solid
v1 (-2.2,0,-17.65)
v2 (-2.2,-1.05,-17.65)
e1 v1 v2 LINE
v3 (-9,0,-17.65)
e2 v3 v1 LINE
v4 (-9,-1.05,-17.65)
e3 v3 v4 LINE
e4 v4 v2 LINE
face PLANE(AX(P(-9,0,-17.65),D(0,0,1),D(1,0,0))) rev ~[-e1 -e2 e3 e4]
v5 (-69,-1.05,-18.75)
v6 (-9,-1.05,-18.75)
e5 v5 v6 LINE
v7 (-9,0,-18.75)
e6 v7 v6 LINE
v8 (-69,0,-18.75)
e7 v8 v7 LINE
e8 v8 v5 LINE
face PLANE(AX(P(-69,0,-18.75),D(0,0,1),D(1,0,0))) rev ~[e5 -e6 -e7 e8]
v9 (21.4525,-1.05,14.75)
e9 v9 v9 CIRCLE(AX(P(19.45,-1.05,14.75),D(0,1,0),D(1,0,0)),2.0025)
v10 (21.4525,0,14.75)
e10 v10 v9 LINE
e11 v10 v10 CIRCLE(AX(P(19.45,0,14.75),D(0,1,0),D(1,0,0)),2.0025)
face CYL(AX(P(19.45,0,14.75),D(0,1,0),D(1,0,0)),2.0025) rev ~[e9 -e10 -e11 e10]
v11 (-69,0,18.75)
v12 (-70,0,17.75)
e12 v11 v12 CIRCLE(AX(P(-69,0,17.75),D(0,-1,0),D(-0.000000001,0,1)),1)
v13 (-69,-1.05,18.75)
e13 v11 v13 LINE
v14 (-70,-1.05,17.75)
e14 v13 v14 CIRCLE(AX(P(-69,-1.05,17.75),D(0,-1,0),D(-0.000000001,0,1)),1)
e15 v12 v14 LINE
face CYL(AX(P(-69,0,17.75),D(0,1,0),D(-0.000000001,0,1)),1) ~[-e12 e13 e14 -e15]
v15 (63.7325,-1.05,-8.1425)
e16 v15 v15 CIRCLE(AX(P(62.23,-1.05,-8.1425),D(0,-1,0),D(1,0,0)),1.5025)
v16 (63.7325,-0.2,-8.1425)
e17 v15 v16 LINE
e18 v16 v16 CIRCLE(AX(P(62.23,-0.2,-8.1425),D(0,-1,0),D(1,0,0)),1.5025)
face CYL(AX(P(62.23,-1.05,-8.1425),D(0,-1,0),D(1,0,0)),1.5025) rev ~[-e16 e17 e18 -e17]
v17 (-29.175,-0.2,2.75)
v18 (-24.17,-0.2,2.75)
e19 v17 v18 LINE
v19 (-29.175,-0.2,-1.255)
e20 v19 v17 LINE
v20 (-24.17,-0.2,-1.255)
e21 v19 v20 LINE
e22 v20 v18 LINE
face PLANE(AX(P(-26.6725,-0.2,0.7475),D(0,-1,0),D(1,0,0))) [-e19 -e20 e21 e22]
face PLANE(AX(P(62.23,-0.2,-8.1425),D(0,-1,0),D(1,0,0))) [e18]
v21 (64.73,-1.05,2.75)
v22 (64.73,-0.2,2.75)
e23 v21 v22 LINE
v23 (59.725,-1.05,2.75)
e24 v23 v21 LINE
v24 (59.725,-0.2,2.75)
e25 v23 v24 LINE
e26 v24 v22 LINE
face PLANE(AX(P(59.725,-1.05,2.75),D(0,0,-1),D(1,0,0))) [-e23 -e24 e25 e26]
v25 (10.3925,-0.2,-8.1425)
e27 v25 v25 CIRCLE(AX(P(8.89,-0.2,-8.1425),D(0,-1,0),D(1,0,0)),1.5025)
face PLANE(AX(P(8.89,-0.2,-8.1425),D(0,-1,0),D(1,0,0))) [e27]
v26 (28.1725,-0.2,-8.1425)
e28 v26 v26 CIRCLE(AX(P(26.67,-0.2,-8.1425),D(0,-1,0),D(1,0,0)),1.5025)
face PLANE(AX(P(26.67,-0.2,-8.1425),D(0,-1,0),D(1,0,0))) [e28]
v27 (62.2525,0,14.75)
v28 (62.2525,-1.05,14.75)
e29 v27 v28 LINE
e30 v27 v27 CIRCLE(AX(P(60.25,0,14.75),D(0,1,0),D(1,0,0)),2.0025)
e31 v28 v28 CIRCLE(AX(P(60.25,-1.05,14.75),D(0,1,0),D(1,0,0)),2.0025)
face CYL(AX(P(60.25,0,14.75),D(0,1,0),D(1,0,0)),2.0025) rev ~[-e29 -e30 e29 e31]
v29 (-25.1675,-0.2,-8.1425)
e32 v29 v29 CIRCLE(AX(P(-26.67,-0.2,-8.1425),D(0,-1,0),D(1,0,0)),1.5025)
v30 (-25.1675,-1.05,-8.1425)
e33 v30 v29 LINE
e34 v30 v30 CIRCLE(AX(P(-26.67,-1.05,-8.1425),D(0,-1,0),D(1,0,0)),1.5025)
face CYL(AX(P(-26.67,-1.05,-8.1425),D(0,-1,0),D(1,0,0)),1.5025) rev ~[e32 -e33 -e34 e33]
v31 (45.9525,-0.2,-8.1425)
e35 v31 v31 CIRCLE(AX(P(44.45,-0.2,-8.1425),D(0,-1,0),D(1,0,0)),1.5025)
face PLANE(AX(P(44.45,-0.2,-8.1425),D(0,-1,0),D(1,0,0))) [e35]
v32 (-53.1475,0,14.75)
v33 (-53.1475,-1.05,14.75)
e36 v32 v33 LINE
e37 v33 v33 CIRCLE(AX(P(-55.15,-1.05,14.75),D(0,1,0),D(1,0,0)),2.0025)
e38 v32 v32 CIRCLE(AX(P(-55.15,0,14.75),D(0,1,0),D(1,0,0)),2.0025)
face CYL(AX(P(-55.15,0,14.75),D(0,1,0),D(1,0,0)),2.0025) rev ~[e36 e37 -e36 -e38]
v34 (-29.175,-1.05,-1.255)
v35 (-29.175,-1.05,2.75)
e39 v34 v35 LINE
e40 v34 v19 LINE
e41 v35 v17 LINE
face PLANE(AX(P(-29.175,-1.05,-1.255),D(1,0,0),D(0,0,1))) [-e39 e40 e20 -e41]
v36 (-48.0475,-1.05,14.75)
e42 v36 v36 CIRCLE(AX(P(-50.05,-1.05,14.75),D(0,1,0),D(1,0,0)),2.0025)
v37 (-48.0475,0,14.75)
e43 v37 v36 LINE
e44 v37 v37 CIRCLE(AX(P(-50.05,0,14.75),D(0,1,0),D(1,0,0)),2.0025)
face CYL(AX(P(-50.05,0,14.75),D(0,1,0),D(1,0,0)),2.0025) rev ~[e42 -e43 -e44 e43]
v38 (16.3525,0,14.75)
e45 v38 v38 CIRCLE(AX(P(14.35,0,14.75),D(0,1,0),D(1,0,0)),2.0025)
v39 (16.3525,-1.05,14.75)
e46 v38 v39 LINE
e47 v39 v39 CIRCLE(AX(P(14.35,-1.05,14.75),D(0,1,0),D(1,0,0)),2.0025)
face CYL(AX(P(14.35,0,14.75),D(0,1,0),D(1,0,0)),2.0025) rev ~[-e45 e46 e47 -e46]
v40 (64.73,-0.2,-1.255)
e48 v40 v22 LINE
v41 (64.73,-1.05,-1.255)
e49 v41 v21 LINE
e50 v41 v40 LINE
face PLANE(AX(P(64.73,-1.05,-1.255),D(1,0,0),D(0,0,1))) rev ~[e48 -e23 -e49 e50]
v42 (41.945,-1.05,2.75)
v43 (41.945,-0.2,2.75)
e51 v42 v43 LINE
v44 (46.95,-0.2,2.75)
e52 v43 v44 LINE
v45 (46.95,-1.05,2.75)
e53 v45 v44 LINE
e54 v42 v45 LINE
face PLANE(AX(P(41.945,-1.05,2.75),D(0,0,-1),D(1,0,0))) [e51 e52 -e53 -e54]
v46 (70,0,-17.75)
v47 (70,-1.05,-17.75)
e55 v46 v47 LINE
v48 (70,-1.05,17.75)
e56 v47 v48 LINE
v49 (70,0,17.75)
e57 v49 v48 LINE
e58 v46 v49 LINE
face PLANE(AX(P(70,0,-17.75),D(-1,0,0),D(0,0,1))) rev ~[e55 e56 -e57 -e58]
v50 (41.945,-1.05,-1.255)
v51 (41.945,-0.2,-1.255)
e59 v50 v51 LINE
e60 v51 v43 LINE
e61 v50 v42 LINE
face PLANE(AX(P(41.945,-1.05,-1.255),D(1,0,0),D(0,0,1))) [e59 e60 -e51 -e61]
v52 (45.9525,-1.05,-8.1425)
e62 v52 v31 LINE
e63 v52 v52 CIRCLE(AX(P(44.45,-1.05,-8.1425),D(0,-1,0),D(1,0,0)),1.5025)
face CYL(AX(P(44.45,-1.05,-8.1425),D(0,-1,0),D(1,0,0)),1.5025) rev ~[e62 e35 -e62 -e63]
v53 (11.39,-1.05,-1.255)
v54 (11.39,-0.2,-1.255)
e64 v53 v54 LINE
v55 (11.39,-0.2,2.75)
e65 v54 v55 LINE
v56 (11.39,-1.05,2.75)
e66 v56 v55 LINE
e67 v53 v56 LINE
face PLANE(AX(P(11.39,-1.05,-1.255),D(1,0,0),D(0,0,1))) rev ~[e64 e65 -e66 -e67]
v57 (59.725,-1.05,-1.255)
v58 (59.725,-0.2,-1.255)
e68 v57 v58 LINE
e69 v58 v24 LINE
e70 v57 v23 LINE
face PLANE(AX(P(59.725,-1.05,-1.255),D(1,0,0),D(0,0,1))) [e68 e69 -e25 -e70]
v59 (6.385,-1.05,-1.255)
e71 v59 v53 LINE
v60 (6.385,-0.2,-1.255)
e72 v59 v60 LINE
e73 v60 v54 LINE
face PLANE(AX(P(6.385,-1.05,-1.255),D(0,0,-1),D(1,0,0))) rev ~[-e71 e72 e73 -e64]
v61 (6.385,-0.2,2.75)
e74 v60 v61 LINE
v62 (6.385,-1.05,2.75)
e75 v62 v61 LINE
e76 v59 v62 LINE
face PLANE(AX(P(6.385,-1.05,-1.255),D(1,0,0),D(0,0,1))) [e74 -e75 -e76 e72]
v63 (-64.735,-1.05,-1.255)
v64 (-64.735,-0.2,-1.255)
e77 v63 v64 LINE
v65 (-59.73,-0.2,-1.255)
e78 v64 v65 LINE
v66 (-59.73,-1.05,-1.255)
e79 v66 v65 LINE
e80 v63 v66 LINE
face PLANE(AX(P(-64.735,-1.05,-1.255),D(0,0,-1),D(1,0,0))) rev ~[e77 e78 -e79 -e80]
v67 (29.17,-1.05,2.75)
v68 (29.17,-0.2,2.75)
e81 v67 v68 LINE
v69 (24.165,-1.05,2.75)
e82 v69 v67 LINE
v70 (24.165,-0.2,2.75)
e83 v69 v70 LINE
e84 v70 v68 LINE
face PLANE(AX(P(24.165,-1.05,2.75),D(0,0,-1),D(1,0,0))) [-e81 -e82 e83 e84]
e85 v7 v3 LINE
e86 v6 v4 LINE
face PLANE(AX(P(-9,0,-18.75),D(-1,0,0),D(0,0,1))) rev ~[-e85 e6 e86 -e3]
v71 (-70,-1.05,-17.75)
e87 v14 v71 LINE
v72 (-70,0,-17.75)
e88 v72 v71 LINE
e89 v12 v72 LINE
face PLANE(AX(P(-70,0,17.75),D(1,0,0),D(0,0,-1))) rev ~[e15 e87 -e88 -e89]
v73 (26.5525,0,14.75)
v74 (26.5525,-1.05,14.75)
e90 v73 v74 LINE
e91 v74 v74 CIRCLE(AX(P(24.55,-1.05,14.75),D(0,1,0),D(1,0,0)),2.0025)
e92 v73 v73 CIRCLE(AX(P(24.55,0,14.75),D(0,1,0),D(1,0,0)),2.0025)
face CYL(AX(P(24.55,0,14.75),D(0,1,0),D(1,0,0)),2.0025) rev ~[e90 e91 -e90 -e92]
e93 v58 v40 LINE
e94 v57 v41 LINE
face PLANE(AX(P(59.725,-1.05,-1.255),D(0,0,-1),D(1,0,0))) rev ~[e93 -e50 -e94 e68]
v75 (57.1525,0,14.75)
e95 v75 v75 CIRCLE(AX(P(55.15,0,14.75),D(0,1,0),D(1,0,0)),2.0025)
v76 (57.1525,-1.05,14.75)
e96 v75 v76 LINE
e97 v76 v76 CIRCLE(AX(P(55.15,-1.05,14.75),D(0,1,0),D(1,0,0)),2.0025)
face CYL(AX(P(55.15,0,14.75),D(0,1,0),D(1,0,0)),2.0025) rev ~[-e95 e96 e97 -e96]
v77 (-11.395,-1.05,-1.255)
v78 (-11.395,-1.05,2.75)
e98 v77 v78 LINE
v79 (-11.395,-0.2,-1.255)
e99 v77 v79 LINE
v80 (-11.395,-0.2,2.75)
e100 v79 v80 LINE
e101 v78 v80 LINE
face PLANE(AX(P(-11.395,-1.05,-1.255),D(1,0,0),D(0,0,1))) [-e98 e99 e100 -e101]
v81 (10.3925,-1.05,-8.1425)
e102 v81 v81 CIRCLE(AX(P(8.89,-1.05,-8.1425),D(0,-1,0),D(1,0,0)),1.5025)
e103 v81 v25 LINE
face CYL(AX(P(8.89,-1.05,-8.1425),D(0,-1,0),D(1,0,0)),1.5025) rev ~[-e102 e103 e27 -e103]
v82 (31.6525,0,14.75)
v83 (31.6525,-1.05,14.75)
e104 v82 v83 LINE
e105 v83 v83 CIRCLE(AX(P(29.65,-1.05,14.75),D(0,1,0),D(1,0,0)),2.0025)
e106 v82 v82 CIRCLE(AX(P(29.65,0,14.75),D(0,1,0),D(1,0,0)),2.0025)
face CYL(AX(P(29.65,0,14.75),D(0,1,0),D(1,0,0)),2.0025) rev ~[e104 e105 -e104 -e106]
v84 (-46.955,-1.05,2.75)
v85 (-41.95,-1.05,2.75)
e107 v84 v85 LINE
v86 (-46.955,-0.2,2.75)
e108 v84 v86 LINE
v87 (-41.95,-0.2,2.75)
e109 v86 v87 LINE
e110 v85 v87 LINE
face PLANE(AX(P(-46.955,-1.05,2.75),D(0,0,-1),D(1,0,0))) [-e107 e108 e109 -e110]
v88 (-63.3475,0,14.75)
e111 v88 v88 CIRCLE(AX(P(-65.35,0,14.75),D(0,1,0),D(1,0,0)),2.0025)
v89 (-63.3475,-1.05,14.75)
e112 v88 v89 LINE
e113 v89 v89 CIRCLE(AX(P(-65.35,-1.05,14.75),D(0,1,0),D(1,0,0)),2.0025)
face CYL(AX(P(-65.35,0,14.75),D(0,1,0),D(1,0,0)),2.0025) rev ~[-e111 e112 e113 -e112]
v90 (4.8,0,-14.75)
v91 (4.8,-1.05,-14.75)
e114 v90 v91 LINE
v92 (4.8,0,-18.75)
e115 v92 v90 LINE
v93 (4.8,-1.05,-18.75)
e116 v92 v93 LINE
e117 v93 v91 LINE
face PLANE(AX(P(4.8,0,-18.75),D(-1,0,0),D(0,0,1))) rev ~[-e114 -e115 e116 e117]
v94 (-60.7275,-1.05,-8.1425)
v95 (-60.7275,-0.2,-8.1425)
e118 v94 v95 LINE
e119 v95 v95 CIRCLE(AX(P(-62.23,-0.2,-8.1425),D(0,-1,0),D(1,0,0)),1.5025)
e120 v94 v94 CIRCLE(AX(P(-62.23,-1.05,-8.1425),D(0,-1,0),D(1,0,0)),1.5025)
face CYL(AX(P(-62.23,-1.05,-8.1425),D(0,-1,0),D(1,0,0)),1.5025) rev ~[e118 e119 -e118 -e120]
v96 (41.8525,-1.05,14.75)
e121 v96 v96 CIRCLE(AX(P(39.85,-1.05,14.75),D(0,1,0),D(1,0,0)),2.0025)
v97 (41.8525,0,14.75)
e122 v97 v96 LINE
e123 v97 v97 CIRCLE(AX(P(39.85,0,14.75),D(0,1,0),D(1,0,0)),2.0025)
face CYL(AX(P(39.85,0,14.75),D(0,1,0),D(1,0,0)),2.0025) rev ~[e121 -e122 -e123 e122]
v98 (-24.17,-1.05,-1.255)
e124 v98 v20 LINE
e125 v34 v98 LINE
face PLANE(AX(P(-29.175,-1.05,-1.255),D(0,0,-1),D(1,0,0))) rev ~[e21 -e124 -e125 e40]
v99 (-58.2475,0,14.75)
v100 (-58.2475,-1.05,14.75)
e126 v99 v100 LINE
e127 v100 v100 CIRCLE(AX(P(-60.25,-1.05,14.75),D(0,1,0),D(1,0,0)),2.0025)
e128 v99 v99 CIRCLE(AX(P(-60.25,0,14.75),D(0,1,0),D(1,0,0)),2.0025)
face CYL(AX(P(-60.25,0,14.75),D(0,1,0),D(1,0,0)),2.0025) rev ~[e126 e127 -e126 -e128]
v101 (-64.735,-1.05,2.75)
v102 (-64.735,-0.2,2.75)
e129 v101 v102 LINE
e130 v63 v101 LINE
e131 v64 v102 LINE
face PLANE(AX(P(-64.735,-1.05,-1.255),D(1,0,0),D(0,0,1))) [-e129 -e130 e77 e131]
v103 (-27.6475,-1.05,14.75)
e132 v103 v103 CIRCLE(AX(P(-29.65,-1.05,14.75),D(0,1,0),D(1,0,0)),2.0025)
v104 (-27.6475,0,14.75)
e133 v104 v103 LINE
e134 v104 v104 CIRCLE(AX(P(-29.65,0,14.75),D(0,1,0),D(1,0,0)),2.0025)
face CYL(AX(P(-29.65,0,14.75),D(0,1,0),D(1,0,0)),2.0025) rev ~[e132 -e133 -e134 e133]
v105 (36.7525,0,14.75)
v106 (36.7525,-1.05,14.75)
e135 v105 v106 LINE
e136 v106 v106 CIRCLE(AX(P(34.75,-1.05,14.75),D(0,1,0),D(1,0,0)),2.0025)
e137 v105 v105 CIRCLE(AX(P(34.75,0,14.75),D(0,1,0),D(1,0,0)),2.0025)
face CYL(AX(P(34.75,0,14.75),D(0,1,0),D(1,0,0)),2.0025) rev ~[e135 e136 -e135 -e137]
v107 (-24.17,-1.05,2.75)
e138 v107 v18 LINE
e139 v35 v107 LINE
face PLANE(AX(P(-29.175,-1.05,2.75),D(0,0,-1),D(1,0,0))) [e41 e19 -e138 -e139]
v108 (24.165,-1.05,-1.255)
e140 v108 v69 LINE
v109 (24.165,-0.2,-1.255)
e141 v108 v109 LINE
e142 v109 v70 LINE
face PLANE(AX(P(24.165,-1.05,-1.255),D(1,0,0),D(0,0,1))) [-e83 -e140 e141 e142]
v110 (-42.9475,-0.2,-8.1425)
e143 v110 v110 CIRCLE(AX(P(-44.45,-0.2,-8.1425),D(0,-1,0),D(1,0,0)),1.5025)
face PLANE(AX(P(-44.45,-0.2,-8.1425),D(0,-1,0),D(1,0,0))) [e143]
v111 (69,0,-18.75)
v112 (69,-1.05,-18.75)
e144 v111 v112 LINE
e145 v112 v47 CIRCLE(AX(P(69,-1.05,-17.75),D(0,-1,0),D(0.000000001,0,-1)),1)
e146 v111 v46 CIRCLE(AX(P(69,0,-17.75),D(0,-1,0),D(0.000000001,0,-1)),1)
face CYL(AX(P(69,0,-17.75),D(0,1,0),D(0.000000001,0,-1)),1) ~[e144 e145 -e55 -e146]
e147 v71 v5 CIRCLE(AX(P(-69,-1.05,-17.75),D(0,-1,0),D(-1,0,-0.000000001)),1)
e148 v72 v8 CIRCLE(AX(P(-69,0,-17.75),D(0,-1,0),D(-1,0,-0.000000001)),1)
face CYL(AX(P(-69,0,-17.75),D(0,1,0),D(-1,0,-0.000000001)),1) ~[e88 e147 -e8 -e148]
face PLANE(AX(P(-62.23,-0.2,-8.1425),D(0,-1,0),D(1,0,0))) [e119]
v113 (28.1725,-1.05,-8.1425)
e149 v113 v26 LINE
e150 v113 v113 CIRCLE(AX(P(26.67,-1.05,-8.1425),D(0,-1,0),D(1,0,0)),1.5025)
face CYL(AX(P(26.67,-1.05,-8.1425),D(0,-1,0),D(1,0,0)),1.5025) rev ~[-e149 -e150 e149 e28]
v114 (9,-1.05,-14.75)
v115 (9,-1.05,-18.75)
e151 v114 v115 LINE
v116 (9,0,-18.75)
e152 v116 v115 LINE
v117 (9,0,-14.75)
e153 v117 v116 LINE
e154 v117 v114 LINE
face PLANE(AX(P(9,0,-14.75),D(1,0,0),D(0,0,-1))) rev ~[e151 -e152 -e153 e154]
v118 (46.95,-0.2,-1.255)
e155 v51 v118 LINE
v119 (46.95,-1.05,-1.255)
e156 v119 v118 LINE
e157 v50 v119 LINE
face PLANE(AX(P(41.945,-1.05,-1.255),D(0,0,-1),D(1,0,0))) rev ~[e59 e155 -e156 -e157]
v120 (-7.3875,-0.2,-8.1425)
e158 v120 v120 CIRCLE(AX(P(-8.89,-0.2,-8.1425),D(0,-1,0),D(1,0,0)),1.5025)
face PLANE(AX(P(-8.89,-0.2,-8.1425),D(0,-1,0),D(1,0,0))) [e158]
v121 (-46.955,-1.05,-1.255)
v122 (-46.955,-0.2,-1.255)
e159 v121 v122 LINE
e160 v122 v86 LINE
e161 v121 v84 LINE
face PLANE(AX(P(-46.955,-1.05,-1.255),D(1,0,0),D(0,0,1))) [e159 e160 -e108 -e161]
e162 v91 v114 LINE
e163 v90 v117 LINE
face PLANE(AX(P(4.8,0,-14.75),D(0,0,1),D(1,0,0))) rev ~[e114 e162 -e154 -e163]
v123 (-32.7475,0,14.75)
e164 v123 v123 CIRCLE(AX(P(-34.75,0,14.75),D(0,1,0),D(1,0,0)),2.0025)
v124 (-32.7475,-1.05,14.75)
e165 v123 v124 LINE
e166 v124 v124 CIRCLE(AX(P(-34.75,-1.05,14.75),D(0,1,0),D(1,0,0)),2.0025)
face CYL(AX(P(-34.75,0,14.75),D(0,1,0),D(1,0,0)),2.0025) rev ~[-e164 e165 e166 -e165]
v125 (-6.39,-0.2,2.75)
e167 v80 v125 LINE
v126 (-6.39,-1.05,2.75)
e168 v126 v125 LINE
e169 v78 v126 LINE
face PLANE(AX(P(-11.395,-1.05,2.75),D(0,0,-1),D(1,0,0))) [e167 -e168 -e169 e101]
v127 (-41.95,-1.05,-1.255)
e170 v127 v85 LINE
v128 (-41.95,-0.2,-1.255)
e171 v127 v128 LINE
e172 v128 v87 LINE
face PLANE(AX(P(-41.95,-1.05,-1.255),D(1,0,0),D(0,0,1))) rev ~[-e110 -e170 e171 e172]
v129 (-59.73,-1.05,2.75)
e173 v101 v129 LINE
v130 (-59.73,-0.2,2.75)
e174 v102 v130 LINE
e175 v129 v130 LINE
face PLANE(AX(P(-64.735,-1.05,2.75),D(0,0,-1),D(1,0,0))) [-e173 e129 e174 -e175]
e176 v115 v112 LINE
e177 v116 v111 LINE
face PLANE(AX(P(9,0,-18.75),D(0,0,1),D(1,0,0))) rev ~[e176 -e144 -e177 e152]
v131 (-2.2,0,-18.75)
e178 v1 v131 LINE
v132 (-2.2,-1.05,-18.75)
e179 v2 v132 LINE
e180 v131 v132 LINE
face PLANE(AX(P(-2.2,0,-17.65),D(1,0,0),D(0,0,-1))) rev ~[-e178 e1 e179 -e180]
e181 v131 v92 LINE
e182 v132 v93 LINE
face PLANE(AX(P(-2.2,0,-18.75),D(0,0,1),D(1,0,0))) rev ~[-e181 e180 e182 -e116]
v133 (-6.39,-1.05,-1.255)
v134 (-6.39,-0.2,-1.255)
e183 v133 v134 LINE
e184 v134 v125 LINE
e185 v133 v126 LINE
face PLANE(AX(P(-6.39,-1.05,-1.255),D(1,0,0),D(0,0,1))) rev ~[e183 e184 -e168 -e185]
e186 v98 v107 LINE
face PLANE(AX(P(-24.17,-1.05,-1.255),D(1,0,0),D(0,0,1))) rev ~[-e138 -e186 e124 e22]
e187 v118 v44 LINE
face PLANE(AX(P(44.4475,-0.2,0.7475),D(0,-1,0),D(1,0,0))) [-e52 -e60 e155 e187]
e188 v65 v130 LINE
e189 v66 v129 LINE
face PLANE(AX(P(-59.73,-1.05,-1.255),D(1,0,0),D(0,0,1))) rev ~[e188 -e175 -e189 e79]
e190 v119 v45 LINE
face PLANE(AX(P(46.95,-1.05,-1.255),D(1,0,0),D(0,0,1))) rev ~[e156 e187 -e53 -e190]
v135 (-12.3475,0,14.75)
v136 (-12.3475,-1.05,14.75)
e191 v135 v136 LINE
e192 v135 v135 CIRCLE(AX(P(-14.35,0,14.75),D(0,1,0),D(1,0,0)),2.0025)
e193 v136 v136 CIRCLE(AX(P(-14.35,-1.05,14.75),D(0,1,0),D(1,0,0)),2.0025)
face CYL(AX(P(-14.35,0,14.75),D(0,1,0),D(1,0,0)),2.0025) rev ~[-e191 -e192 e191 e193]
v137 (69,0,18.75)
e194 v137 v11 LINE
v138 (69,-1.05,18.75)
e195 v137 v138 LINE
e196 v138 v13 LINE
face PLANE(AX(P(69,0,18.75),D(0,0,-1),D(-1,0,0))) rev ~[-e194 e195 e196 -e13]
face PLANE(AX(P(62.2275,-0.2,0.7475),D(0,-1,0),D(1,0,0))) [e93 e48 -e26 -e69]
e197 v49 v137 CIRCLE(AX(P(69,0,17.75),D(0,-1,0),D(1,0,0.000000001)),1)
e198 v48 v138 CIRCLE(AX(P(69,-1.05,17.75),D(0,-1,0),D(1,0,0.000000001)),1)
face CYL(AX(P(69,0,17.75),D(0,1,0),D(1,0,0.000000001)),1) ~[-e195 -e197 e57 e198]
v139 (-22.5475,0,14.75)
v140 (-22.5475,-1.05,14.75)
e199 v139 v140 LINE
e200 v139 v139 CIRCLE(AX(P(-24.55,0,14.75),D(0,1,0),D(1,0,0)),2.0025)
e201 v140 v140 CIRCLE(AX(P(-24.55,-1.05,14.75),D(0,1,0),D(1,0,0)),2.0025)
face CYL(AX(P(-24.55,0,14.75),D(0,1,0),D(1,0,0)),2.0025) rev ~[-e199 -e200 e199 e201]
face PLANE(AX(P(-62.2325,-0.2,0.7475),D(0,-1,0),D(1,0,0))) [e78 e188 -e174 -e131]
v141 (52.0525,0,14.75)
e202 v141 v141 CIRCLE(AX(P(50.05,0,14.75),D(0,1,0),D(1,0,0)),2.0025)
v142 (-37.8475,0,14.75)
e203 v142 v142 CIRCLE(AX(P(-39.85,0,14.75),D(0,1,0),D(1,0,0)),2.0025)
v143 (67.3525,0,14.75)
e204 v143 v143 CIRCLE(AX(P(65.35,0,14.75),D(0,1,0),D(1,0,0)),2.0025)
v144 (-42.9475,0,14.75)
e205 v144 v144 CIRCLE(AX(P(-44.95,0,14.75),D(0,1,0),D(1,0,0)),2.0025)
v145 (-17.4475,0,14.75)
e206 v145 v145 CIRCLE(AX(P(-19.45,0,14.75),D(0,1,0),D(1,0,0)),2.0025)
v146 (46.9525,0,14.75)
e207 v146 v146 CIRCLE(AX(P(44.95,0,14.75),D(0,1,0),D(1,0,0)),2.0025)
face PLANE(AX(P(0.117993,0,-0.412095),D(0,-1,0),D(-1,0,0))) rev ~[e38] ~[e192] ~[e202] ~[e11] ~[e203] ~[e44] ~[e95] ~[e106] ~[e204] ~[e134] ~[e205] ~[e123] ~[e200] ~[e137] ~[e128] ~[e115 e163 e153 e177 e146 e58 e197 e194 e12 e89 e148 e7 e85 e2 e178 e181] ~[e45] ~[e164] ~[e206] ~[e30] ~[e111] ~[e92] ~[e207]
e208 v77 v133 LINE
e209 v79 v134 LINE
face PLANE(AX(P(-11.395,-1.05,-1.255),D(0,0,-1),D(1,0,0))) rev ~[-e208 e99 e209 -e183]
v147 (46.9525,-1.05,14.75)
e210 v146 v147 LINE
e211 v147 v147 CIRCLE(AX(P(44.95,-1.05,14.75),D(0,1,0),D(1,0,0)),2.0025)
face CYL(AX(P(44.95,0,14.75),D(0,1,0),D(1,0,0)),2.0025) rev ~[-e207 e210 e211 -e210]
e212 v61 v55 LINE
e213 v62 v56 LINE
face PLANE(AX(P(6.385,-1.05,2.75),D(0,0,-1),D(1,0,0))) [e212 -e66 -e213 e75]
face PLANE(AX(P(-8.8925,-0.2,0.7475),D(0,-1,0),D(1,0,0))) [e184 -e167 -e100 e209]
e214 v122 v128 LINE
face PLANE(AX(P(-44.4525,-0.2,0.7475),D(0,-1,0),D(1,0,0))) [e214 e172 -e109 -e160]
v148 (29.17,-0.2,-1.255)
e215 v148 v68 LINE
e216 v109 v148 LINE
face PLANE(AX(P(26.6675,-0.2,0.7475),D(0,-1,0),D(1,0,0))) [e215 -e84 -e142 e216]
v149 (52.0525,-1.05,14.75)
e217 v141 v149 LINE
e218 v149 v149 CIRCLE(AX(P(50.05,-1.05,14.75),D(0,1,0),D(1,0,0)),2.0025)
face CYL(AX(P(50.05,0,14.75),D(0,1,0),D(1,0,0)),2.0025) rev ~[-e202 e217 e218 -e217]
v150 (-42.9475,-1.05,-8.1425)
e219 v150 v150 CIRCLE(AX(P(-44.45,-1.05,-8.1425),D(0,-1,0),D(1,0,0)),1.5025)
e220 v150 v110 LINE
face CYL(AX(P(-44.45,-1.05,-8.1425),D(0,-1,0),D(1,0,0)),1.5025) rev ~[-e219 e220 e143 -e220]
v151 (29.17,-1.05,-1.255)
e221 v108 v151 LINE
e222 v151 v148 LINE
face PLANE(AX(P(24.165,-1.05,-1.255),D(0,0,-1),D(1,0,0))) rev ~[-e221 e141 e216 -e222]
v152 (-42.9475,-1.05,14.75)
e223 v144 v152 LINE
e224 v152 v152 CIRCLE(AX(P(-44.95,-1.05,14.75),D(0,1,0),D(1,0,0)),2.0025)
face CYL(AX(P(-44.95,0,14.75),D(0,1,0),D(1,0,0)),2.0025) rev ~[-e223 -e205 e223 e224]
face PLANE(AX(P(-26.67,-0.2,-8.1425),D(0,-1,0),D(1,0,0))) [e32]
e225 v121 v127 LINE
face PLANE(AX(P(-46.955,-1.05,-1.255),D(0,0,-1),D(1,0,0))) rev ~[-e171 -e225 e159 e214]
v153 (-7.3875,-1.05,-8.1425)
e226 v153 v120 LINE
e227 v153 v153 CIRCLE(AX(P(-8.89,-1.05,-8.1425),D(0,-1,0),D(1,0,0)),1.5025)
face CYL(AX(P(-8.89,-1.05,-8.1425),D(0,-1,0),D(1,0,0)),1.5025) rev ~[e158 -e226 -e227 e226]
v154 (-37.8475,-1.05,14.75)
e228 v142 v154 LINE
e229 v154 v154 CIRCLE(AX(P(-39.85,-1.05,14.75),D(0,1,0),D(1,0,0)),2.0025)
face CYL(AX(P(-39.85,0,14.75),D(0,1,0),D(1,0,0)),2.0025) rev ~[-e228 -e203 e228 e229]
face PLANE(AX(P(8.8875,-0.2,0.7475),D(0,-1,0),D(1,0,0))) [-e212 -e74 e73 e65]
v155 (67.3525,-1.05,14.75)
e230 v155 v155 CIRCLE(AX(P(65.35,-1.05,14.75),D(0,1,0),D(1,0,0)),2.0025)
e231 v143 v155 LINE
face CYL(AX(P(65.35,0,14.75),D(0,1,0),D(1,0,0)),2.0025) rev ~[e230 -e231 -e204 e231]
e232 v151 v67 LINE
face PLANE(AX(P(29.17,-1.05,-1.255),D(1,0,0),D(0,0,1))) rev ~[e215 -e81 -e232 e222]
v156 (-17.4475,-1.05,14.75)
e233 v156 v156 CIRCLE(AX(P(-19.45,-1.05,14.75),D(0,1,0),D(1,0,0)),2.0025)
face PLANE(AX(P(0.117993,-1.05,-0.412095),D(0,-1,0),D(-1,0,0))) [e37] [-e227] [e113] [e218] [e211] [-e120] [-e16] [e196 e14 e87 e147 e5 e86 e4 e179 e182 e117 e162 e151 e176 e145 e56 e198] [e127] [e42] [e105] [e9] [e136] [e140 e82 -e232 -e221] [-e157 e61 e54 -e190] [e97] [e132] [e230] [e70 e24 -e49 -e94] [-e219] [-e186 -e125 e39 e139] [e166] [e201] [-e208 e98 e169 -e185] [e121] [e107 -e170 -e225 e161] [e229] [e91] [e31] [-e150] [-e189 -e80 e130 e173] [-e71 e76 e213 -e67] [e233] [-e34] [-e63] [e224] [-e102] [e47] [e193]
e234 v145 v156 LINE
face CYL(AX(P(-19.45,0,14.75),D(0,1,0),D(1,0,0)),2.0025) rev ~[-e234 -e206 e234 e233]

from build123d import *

# Parameters (mm, degrees)
SKETCH1_R           = 2.0025
BOSS_EXTRUDE1_DEPTH = 1.05
SKETCH3_R           = 1.5025
SKETCH3_W           = 5.005
SKETCH3_H           = 4.005
CUT_EXTRUDE8_DEPTH  = 0.85


with BuildPart() as part:
    # Sketch1 → Boss-Extrude1 (new body)
    with BuildSketch(Plane(origin=(0, 0, 0), x_dir=(1, 0, 0), z_dir=(0, 1, 0))):
        with BuildLine():
            Line((-69, 18.75), (-9, 18.75))
            Line((-9, 18.75), (-9, 17.65))
            Line((-9, 17.65), (-2.2, 17.65))
            Line((-2.2, 17.65), (-2.2, 18.75))
            Line((-2.2, 18.75), (4.8, 18.75))
            Line((4.8, 18.75), (4.8, 14.75))
            Line((4.8, 14.75), (9, 14.75))
            Line((9, 14.75), (9, 18.75))
            Line((9, 18.75), (69, 18.75))
            ThreePointArc((69, 18.75), (69.707106781, 18.457106781), (70, 17.75))
            Line((70, 17.75), (70, -17.75))
            ThreePointArc((70, -17.75), (69.707106781, -18.457106781), (69, -18.75))
            Line((69, -18.75), (-69, -18.75))
            ThreePointArc((-69, -18.75), (-69.707106781, -18.457106781), (-70, -17.75))
            Line((-70, -17.75), (-70, 17.75))
            ThreePointArc((-70, 17.75), (-69.707106781, 18.457106781), (-69, 18.75))
        make_face()
        with Locations((-65.35, -14.75)):
            Circle(SKETCH1_R, mode=Mode.SUBTRACT)
        with Locations((-60.25, -14.75)):
            Circle(SKETCH1_R, mode=Mode.SUBTRACT)
        with Locations((-55.15, -14.75)):
            Circle(SKETCH1_R, mode=Mode.SUBTRACT)
        with Locations((-50.05, -14.75)):
            Circle(SKETCH1_R, mode=Mode.SUBTRACT)
        with Locations((-44.95, -14.75)):
            Circle(SKETCH1_R, mode=Mode.SUBTRACT)
        with Locations((-39.85, -14.75)):
            Circle(SKETCH1_R, mode=Mode.SUBTRACT)
        with Locations((-34.75, -14.75)):
            Circle(SKETCH1_R, mode=Mode.SUBTRACT)
        with Locations((-29.65, -14.75)):
            Circle(SKETCH1_R, mode=Mode.SUBTRACT)
        with Locations((-24.55, -14.75)):
            Circle(SKETCH1_R, mode=Mode.SUBTRACT)
        with Locations((-19.45, -14.75)):
            Circle(SKETCH1_R, mode=Mode.SUBTRACT)
        with Locations((-14.35, -14.75)):
            Circle(SKETCH1_R, mode=Mode.SUBTRACT)
        with Locations((65.35, -14.75)):
            Circle(SKETCH1_R, mode=Mode.SUBTRACT)
        with Locations((60.25, -14.75)):
            Circle(SKETCH1_R, mode=Mode.SUBTRACT)
        with Locations((55.15, -14.75)):
            Circle(SKETCH1_R, mode=Mode.SUBTRACT)
        with Locations((50.05, -14.75)):
            Circle(SKETCH1_R, mode=Mode.SUBTRACT)
        with Locations((44.95, -14.75)):
            Circle(SKETCH1_R, mode=Mode.SUBTRACT)
        with Locations((39.85, -14.75)):
            Circle(SKETCH1_R, mode=Mode.SUBTRACT)
        with Locations((34.75, -14.75)):
            Circle(SKETCH1_R, mode=Mode.SUBTRACT)
        with Locations((29.65, -14.75)):
            Circle(SKETCH1_R, mode=Mode.SUBTRACT)
        with Locations((24.55, -14.75)):
            Circle(SKETCH1_R, mode=Mode.SUBTRACT)
        with Locations((19.45, -14.75)):
            Circle(SKETCH1_R, mode=Mode.SUBTRACT)
        with Locations((14.35, -14.75)):
            Circle(SKETCH1_R, mode=Mode.SUBTRACT)
    extrude(amount=-BOSS_EXTRUDE1_DEPTH)

    # Sketch3 → Cut-Extrude8 (cut)
    with BuildSketch(Plane.XZ.offset(1.05)):
        with Locations((62.23, -8.1425)):
            Circle(SKETCH3_R)
        with Locations((44.45, -8.1425)):
            Circle(SKETCH3_R)
        with Locations((26.67, -8.1425)):
            Circle(SKETCH3_R)
        with Locations((8.89, -8.1425)):
            Circle(SKETCH3_R)
        with Locations((-8.89, -8.1425)):
            Circle(SKETCH3_R)
        with Locations((-26.67, -8.1425)):
            Circle(SKETCH3_R)
        with Locations((-44.45, -8.1425)):
            Circle(SKETCH3_R)
        with Locations((-62.23, -8.1425)):
            Circle(SKETCH3_R)
        with Locations((62.2275, 0.7475)):
            Rectangle(SKETCH3_W, SKETCH3_H)
        with Locations((44.4475, 0.7475)):
            Rectangle(SKETCH3_W, SKETCH3_H)
        with Locations((26.6675, 0.7475)):
            Rectangle(SKETCH3_W, SKETCH3_H)
        with Locations((8.8875, 0.7475)):
            Rectangle(SKETCH3_W, SKETCH3_H)
        with Locations((-8.8925, 0.7475)):
            Rectangle(SKETCH3_W, SKETCH3_H)
        with Locations((-26.6725, 0.7475)):
            Rectangle(SKETCH3_W, SKETCH3_H)
        with Locations((-44.4525, 0.7475)):
            Rectangle(SKETCH3_W, SKETCH3_H)
        with Locations((-62.2325, 0.7475)):
            Rectangle(SKETCH3_W, SKETCH3_H)
    extrude(amount=-CUT_EXTRUDE8_DEPTH, mode=Mode.SUBTRACT)


solid = part.part
